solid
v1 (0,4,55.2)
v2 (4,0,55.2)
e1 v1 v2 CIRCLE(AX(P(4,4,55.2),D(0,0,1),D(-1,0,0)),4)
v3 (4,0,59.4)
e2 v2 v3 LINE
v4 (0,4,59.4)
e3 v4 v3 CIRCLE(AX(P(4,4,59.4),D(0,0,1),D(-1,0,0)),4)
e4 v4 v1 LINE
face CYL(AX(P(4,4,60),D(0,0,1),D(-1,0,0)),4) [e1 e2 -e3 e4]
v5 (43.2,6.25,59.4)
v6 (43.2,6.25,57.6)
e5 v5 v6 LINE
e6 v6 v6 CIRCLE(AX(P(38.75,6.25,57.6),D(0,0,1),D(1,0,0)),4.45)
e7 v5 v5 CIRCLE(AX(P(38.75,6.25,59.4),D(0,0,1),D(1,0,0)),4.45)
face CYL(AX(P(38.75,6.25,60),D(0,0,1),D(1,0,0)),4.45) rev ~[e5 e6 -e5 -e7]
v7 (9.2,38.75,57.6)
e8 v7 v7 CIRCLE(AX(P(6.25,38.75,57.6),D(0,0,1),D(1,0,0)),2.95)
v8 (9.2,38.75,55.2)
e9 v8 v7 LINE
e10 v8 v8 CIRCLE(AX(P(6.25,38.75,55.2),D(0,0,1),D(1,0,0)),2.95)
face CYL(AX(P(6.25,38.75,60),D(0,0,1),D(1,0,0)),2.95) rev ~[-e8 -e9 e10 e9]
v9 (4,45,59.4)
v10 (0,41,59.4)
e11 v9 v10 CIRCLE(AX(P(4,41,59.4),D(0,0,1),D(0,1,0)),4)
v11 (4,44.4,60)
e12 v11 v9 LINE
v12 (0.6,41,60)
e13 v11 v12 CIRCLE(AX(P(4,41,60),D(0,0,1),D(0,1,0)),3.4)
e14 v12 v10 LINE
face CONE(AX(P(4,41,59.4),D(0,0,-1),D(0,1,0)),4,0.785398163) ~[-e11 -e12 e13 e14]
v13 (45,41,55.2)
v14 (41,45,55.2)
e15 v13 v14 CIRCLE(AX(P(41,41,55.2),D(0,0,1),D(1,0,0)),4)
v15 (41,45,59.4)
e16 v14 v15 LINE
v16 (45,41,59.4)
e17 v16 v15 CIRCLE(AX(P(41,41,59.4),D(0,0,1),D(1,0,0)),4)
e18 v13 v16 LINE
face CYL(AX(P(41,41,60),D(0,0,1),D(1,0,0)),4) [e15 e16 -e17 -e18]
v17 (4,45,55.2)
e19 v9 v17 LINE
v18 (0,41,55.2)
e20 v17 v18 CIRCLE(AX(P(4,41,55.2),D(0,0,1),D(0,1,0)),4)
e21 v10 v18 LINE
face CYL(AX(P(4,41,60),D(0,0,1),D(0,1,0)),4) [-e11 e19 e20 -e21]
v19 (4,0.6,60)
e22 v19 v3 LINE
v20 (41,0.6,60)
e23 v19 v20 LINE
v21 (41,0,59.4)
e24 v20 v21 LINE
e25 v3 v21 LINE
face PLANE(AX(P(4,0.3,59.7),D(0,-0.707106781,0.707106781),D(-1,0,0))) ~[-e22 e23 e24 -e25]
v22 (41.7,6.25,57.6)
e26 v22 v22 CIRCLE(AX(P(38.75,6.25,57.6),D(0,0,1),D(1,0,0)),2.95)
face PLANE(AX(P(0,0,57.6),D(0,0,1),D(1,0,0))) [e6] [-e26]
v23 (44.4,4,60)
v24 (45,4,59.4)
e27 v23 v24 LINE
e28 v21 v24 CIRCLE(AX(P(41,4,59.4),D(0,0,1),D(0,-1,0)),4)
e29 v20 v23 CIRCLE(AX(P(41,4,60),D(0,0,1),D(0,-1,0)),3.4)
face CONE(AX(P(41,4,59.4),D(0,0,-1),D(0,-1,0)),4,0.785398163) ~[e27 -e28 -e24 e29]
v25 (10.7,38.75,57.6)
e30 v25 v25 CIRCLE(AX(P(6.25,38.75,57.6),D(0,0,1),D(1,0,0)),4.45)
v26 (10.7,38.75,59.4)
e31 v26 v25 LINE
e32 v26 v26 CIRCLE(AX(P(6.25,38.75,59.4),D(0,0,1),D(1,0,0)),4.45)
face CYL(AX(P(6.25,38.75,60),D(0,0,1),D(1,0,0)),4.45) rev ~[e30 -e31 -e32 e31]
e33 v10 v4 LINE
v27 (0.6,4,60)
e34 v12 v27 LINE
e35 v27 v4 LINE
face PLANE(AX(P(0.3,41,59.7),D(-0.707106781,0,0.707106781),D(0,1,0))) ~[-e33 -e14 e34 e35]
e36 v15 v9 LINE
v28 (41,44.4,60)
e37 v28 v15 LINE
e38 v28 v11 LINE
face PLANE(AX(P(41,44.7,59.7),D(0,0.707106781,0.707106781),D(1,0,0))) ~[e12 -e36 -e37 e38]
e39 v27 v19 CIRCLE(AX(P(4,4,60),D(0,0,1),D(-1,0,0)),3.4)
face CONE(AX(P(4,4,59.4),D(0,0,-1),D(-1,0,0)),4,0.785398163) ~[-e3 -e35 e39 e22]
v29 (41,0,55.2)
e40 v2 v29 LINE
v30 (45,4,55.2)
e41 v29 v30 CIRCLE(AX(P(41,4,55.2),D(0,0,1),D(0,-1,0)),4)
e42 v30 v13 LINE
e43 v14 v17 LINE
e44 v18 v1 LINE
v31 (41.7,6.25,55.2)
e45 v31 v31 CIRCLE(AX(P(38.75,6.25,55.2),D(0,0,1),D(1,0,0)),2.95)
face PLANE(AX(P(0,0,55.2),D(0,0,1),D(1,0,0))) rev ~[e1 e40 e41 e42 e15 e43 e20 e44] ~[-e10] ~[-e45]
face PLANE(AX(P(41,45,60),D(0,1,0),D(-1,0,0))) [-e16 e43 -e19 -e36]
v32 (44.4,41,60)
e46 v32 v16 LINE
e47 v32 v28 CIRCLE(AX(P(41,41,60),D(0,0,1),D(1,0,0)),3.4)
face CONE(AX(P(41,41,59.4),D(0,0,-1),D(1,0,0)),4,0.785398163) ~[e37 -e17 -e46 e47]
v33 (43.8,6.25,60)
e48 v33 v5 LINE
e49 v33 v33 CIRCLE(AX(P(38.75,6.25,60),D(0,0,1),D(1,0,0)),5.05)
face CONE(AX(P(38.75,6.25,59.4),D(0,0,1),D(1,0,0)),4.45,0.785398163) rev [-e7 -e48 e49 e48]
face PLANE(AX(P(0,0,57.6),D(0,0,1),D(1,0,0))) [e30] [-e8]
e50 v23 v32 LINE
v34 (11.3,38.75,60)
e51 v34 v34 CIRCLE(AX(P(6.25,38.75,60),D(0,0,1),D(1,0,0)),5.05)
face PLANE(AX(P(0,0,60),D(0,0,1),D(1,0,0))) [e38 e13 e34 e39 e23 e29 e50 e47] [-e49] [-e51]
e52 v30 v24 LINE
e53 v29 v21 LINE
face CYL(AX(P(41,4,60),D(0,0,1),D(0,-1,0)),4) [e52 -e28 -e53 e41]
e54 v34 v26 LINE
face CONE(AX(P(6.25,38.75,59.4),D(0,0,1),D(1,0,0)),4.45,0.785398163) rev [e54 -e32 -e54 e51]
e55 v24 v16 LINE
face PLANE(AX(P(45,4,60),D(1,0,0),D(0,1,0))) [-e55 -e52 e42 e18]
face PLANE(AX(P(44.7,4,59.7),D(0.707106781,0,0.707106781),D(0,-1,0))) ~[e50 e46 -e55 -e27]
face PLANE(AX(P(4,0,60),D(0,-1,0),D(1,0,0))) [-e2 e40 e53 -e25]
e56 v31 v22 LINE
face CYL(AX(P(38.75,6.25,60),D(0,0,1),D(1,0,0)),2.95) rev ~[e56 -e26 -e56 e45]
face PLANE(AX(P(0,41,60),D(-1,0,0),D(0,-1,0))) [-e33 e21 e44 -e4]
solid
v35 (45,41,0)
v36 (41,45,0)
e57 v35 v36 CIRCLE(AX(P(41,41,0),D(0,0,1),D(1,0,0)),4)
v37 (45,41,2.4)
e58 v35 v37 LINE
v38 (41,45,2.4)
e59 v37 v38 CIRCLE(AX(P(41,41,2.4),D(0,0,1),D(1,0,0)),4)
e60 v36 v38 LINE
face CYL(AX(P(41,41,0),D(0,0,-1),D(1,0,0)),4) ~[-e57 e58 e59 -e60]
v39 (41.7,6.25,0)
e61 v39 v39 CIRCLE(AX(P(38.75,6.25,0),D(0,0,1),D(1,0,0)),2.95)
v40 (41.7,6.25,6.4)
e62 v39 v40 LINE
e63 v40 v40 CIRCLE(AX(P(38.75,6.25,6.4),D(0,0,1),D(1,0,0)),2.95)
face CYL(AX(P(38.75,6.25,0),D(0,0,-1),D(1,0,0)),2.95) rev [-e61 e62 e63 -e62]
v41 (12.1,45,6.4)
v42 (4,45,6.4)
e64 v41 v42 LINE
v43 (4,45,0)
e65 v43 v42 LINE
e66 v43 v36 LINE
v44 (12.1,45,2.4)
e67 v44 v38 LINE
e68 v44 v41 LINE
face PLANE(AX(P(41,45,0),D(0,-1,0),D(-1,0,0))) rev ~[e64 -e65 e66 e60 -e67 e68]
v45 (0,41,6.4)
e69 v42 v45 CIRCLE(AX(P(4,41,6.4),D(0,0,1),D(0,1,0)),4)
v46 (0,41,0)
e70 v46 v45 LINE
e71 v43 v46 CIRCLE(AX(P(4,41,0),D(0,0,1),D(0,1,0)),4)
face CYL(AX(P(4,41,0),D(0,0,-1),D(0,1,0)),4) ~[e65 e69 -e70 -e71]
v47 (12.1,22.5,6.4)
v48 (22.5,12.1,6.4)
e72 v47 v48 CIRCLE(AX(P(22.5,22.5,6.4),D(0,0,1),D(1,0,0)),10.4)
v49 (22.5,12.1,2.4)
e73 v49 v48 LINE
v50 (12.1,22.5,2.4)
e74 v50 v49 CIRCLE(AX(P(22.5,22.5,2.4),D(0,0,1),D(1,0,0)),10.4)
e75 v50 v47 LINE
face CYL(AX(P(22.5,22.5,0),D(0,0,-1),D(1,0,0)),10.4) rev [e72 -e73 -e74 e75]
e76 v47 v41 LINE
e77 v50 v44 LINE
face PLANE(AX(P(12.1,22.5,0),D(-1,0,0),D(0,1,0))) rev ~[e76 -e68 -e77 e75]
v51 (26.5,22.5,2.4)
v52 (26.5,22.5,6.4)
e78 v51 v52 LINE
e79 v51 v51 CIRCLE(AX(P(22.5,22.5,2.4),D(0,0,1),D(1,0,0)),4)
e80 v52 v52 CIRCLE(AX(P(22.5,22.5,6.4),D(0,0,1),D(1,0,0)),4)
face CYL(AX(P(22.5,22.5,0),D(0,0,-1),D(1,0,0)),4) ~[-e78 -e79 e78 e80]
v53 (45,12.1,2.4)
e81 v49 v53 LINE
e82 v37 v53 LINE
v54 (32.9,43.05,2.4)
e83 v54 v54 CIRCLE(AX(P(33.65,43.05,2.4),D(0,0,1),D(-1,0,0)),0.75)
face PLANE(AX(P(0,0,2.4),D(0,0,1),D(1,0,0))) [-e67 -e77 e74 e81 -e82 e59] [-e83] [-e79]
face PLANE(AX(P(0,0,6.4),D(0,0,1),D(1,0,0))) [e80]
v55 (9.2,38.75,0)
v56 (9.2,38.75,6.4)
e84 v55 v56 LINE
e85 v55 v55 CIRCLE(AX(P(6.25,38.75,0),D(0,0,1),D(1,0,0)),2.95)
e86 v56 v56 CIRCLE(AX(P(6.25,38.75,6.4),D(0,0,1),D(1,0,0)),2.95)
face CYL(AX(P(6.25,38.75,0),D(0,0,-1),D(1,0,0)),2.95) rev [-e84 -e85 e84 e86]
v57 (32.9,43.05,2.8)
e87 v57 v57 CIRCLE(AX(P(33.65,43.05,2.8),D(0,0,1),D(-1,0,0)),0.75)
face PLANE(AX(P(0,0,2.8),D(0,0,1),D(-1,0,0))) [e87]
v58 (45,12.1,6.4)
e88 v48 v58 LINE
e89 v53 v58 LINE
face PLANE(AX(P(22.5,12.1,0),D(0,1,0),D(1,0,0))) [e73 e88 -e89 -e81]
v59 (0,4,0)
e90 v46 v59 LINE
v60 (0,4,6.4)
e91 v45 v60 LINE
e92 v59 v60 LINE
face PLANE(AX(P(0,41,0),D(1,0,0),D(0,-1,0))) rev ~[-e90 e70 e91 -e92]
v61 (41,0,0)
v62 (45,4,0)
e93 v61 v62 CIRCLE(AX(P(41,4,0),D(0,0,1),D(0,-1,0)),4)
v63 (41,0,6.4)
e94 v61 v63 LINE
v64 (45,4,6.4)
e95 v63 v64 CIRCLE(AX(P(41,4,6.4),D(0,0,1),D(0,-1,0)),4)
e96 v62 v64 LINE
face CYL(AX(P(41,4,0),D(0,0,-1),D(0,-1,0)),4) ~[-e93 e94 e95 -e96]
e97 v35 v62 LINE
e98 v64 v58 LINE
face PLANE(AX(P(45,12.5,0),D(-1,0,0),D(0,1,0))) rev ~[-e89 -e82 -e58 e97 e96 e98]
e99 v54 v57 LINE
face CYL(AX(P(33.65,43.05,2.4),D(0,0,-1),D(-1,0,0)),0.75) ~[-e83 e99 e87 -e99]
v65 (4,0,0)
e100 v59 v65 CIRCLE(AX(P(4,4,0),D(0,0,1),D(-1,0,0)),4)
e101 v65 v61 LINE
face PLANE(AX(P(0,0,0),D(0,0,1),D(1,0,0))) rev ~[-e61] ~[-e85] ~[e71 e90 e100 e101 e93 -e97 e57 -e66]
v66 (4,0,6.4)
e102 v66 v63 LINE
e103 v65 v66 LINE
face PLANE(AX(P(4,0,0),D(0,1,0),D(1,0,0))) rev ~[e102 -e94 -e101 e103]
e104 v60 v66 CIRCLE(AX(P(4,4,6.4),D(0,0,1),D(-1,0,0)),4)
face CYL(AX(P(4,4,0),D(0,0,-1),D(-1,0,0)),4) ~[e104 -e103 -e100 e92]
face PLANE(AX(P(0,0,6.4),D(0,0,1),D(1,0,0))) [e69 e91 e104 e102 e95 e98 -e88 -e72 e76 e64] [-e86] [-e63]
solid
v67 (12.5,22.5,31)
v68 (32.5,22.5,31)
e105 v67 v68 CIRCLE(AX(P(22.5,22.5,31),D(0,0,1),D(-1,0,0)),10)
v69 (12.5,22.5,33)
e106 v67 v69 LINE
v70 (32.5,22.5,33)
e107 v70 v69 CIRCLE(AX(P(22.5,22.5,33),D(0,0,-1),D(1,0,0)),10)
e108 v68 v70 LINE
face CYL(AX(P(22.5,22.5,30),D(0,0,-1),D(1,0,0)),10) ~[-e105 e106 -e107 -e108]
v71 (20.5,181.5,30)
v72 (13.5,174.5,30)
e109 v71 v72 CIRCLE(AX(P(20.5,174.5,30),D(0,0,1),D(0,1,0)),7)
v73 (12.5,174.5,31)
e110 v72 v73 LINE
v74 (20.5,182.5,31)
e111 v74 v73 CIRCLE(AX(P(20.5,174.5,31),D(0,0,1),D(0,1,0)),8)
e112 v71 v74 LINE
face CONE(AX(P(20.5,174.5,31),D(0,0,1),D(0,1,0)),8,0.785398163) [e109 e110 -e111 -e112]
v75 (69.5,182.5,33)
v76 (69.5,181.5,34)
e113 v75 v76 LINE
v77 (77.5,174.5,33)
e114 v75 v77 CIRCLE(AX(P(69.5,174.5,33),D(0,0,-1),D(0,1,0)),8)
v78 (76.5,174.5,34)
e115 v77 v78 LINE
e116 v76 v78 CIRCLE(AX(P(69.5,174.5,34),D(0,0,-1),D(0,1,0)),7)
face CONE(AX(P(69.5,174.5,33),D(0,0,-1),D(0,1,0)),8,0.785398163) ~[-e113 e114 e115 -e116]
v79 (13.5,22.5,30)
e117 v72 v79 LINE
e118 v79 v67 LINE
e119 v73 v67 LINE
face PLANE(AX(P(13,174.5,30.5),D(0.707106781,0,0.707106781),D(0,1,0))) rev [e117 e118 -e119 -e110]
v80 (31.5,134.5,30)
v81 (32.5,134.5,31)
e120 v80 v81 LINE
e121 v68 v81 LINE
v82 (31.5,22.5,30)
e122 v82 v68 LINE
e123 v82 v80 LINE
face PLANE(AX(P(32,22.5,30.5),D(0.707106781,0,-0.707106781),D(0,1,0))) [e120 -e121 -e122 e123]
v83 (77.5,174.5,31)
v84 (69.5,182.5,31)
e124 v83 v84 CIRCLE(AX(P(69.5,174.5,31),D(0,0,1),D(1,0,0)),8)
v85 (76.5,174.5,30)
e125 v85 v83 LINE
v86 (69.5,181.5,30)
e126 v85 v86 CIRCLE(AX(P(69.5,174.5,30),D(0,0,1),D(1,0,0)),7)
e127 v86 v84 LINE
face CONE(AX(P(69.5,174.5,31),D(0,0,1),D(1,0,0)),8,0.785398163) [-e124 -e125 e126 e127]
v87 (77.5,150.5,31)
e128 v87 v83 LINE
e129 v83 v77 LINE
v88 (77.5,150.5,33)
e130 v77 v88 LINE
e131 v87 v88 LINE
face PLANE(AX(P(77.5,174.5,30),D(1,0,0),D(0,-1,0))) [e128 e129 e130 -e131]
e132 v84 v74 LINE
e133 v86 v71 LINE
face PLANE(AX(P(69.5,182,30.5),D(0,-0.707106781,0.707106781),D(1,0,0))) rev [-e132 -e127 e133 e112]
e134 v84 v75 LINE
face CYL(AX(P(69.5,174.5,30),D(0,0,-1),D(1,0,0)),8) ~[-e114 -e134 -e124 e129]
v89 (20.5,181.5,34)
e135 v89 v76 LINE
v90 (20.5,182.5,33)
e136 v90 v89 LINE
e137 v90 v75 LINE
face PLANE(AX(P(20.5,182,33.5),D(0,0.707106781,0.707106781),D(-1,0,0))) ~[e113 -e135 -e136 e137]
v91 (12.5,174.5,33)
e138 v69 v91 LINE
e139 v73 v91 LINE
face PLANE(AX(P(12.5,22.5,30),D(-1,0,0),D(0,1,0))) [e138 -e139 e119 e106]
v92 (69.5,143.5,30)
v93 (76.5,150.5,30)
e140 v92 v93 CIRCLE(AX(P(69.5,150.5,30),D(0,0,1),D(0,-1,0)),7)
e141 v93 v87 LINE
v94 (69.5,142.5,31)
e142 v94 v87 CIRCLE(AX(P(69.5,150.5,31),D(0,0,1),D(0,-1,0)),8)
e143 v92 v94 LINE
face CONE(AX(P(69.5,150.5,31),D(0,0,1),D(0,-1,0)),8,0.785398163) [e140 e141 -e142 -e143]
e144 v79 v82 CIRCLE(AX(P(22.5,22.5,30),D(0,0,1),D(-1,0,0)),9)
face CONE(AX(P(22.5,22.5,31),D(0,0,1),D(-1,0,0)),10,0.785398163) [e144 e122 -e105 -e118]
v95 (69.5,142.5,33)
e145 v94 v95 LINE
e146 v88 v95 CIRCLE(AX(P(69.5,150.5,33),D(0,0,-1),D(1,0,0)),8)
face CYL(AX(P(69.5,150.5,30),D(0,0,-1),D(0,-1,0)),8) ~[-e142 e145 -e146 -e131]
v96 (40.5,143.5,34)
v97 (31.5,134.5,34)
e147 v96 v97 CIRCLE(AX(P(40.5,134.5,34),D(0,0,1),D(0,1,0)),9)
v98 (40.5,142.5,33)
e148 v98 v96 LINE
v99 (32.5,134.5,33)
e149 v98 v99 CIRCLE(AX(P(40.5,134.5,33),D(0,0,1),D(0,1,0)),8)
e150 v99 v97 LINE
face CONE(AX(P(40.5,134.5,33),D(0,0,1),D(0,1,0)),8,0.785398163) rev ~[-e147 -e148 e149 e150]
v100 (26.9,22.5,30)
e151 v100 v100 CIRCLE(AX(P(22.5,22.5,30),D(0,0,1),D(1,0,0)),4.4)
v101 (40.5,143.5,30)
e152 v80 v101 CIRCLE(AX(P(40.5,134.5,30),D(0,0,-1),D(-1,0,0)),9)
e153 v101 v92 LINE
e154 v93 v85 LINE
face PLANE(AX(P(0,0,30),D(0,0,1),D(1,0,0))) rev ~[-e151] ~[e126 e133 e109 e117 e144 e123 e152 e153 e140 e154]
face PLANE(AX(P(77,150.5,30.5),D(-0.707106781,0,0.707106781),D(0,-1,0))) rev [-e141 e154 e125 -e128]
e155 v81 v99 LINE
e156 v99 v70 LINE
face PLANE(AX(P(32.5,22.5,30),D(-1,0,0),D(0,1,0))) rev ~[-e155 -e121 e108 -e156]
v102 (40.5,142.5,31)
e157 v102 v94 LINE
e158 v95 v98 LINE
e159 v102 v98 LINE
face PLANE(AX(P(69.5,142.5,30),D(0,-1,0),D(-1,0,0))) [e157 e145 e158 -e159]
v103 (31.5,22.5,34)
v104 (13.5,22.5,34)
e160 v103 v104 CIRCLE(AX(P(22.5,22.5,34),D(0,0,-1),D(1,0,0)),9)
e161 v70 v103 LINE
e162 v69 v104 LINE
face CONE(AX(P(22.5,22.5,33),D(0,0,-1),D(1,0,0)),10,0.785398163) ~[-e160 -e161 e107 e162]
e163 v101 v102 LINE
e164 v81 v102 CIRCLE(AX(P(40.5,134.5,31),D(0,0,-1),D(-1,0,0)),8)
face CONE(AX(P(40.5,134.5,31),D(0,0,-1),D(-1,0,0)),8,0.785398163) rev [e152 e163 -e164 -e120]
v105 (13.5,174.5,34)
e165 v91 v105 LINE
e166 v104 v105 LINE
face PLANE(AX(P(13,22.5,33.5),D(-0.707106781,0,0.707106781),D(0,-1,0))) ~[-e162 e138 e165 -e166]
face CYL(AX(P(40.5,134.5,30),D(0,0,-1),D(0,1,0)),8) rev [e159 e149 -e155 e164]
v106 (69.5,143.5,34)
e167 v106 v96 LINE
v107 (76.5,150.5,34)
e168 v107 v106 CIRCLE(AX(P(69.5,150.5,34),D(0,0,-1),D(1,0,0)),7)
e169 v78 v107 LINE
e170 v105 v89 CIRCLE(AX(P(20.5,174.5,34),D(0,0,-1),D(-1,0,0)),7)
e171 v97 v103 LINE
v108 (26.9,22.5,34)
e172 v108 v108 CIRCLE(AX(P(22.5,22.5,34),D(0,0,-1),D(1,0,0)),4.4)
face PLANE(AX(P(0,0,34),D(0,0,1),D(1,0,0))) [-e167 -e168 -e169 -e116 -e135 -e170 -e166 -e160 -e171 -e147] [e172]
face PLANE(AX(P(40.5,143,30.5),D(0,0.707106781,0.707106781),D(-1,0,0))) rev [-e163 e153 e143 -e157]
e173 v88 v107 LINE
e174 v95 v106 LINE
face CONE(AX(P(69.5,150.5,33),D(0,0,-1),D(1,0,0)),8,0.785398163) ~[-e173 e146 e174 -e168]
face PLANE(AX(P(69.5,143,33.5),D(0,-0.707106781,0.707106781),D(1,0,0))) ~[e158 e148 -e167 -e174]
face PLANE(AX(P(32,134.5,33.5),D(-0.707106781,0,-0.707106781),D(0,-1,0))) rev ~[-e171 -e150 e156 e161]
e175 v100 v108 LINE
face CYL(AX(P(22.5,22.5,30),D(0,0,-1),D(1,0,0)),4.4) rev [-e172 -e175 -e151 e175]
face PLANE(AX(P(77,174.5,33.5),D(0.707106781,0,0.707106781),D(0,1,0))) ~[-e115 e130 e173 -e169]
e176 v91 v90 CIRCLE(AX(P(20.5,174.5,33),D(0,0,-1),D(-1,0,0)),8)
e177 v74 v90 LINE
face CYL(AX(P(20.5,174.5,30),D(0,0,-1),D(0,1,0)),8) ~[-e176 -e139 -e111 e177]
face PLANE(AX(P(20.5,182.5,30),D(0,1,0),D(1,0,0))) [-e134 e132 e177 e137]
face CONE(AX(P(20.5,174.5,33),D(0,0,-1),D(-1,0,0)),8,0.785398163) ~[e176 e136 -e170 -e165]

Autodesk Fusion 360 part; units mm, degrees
sketch "Sketch1" plane through (0, 0, 0) normal (0, 0, 1) x (1, 0, 0) in component "Component"
  line L0 (0, 0) -> (45, 0) construction
  line L1 (45, 0) -> (45, 45) construction
  line L2 (45, 45) -> (0, 45) construction
  line L3 (0, 45) -> (0, 0) construction
  line L4 (0, 45) -> (45, 0) construction
  line L5 (0, 0) -> (45, 45) construction
  circle A0 centre (22.5, 22.5) radius 10
  line L6 (12.5, 22.5) -> (12.5, 45)
  line L7 (22.5, 12.5) -> (45, 12.5)
  circle A1 centre (22.5, 22.5) radius 4
  line L8 (32.5, 22.5) -> (32.5, 45) construction
  line L9 (12.5, 45) -> (0, 32.5) construction
  line L10 (45, 12.5) -> (32.5, 0) construction
  circle A2 centre (6.25, 38.75) radius 2.95
  circle A3 centre (6.25, 38.75) radius 4.45
  circle A4 centre (38.75, 6.25) radius 2.95
  circle A5 centre (38.75, 6.25) radius 4.45
  line L11 (0, 41) -> (0, 4)
  line L12 (4, 0) -> (41, 0)
  line L13 (45, 4) -> (45, 41)
  line L14 (41, 45) -> (4, 45)
  arc A6 (4, 45) -> (0, 41) centre (4, 41) ccw
  arc A7 (45, 41) -> (41, 45) centre (41, 41) ccw
  arc A8 (41, 0) -> (45, 4) centre (41, 4) ccw
  arc A9 (0, 4) -> (4, 0) centre (4, 4) ccw
  circle A10 centre (22.5, 22.5) radius 4.4
  line L15 (12.1, 22.5) -> (12.1, 45)
  circle A11 centre (22.5, 22.5) radius 10.4
  line L16 (22.5, 12.1) -> (45, 12.1)
  dimension "d1" = 45
  dimension "d2" = 45
  dimension "d5" = 20
  dimension "d6" = 8
  dimension "d24" = 5.9
  dimension "d25" = 8.9
  dimension "d26" = 5.9
  dimension "d27" = 8.9
  dimension "d30" = 4
  dimension "d31" = 4
  dimension "d32" = 4
  dimension "d33" = 4
  dimension "d69" = 0.4
  dimension "d70" = 0.4
  dimension "d71" = 0.4
  dimension "d72" = 0.4
extrude "Extrude5" add sketch "Sketch1" along normal blind 2.4 contours A0 | A0 L6 L7 A11 | A0 L6 L7 A11 | L6 L14 L15 A11 | L6 L7 L13 L14 A7 A11 | L7 L13 A11 L16 | A10 makes body 1 in component "Component"
extrude "Extrude7" add sketch "Sketch1" along normal blind 6.4 contours L11 L12 L13 L14 A6 A8 A9 L15 A11 L16 | A1 | A3 | A5 bodies 1 in component "Component"
ref_plane "WorkPlane2" through (0, 0, 60) normal (0, 0, 1) x (1, 0, 0) in component "Component"
sketch "Sketch3" plane through (0, 0, 60) normal (0, 0, 1) x (1, 0, 0) in component "Component"
  line L0 (4, 0) -> (41, 0)
  arc A0 (41, 0) -> (45, 4) centre (41, 4) ccw
  line L1 (45, 4) -> (45, 41)
  arc A1 (45, 41) -> (41, 45) centre (41, 41) ccw
  line L2 (41, 45) -> (4, 45)
  arc A2 (4, 45) -> (0, 41) centre (4, 41) ccw
  line L3 (0, 41) -> (0, 4)
  arc A3 (0, 4) -> (4, 0) centre (4, 4) ccw
  circle A4 centre (6.25, 38.75) radius 4.45
  circle A5 centre (6.25, 38.75) radius 2.95
  circle A6 centre (22.5, 22.5) radius 4
  circle A7 centre (38.75, 6.25) radius 4.45
  circle A8 centre (38.75, 6.25) radius 2.95
  circle A9 centre (22.5, 22.5) radius 4.4
extrude "Extrude8" add sketch "Sketch3" against normal blind 2.4 separate body contours L0 A0 L1 A1 L2 A2 L3 A3 | A4 | A6 | A7 | A9 makes body 2 in component "Component"
extrude "Extrude9" add sketch "Sketch3" against normal blind 4.8 contours L0 A0 L1 A1 L2 A2 L3 A3 | A4 | A6 | A7 | A9 bodies 2 in component "Component"
extrude "Extrude10" cut sketch "Sketch3" against normal blind 2.4 contours A4 | A7 bodies 2 in component "Component"
ref_plane "WorkPlane3" through (0, 0, 30) normal (0, 0, 1) x (1, 0, 0) in component "Component"
sketch "Sketch4" plane through (0, 0, 30) normal (0, 0, 1) x (1, 0, 0) in component "Component"
  circle A0 centre (22.5, 22.5) radius 10
  circle A1 centre (22.5, 22.5) radius 4
  line L0 (0, 0) -> (45, 45)
  line L1 (45, 45) -> (0, 45)
  line L2 (12.5, 12.5) -> (12.5, 182.5) construction
  line L3 (0, 45) -> (45, 0)
  line L4 (22.5, 12.5) -> (45, 12.5)
  line L5 (32.5, 22.5) -> (32.5, 45)
  line L6 (32.5, 12.5) -> (32.5, 142.5) construction
  line L7 (12.5, 182.5) -> (77.5, 182.5) construction
  line L8 (12.5, 22.5) -> (12.5, 45)
  line L9 (77.5, 182.5) -> (77.5, 142.5) construction
  line L10 (77.5, 142.5) -> (32.5, 142.5) construction
  line L11 (12.5, 12.5) -> (12.5, 174.5)
  line L12 (20.5, 182.5) -> (69.5, 182.5)
  line L13 (77.5, 174.5) -> (77.5, 150.5)
  line L14 (69.5, 142.5) -> (40.5, 142.5)
  line L15 (32.5, 134.5) -> (32.5, 12.5)
  arc A2 (20.5, 182.5) -> (12.5, 174.5) centre (20.5, 174.5) ccw
  arc A3 (77.5, 174.5) -> (69.5, 182.5) centre (69.5, 174.5) ccw
  arc A4 (69.5, 142.5) -> (77.5, 150.5) centre (69.5, 150.5) ccw
  arc A5 (40.5, 142.5) -> (32.5, 134.5) centre (40.5, 134.5) ccw
  circle A6 centre (22.5, 22.5) radius 4.4
  dimension "d48" = 170
  dimension "d49" = 130
  dimension "d50" = 65
  dimension "d51" = 40
  dimension "d52" = 8
  dimension "d53" = 8
  dimension "d54" = 8
  dimension "d55" = 8
extrude "Extrude11" add sketch "Sketch4" along normal blind 4 separate body contours A0 L0 L3 A6 | A0 L0 L5 L15 | A0 L0 L3 A6 | A0 L0 L1 L3 L5 L8 L11 L15 | A0 L0 L3 A6 | A0 L0 L3 A6 | A0 L3 L8 L11 | L1 L11 L12 L13 L14 L15 A2 A3 A4 A5 makes body 3 in component "Component"
sketch "Sketch5" plane through (0, 0, 2.4) normal (0, 0, 1) x (-1, 0, 0) in component "Component"
  line L0 (-45, -12.1) -> (-45, -41)
  arc A0 (-45, -41) -> (-41, -45) centre (-41, -41) ccw
  line L1 (-41, -45) -> (-12.1, -45)
  line L2 (-32.5, -22.5) -> (-32.5, -45)
  line L3 (-45, -45) -> (0, -45)
  line L4 (-32.5, -22.5) -> (-32.5, -134.5)
  line L5 (-41, -45) -> (-4, -45)
  arc A1 (-12.1, -22.5) -> (-22.5, -12.1) centre (-22.5, -22.5) ccw
  line L6 (-22.5, -12.1) -> (-45, -12.1)
  line L7 (-12.1, -45) -> (-12.1, -22.5)
  circle A2 centre (-22.5, -22.5) radius 4
  line L8 (-32.5, -45) -> (-32.9, -45) construction
  line L9 (-32.9, -45) -> (-32.9, -43.8) construction
  line L10 (-32.9, -43.8) -> (-32.5, -43.8) construction
  line L11 (-32.5, -43.8) -> (-32.5, -45) construction
  line L12 (-32.9, -43.8) -> (-34.4, -43.8) construction
  line L13 (-34.4, -43.8) -> (-34.4, -42.6) construction
  line L14 (-34.4, -42.6) -> (-32.9, -42.6) construction
  line L15 (-32.9, -42.6) -> (-32.9, -43.8) construction
  circle A3 centre (-33.65, -43.05) radius 0.75
  dimension "d75" = 0.4
  dimension "d76" = 1.2
  dimension "d77" = 1.5
  dimension "d78" = 1.2
  dimension "d79" = 0.75
chamfer "Chamfer1" distance 0.6 angle 45 2 edges at (2.1011, 40.3592, 60) (34.6011, 7.8592, 60) on bodies 2 in component "Component"
chamfer "Chamfer2" distance 0.6 angle 45 8 edges at (1.1716, 1.1716, 60) (22.5, 0, 60) (43.8284, 1.1716, 60) (45, 22.5, 60) (43.8284, 43.8284, 60) (22.5, 45, 60) (1.1716, 43.8284, 60) (0, 22.5, 60) on bodies 2 in component "Component"
chamfer "Chamfer3" distance 1 angle 45 20 edges at (32.5, 78.5, 34) (34.8431, 140.1569, 34) (55, 142.5, 34) (75.1569, 144.8431, 34) (77.5, 162.5, 34) (75.1569, 180.1569, 34) (45, 182.5, 34) (14.8431, 180.1569, 34) (12.5, 98.5, 34) (22.5, 12.5, 34) (14.8431, 180.1569, 30) (45, 182.5, 30) (75.1569, 180.1569, 30) (77.5, 162.5, 30) (75.1569, 144.8431, 30) (55, 142.5, 30) (34.8431, 140.1569, 30) (32.5, 78.5, 30) (22.5, 12.5, 30) (12.5, 98.5, 30) on bodies 3 in component "Component"
extrude "Extrude13" add sketch "Sketch5" along normal blind 0.4 contours A3 bodies 1 in component "Component"
component "Component" placed x (1, 0, 0) y (0, 1, 0) z (0, 0, 1) at (0, 0, 0)
equation "d1 = BaseSize"
equation "d2 = BaseSize"
equation "HoleDiameter = 8 mm"
equation "ArmWidth = 20 mm"
equation "d5 = ArmWidth"
equation "d6 = HoleDiameter"
equation "PlateThickness = 2.4 mm"
equation "ArmThickness = 4 mm"
equation "PrintingTolerance = 0.2 mm"
equation "ArmLength = 170 mm"
equation "FlagHeight = 40 mm"
equation "FlagWidth = 65 mm"
equation "ScrewDiameter = 5.5 mm"
equation "ScrewHeadDiameter = 8.5 mm"
equation "BaseSize = 45 mm"
equation "d24 = ScrewDiameter + PrintingTolerance * 2"
equation "d25 = ScrewHeadDiameter + PrintingTolerance * 2"
equation "d26 = ScrewDiameter + PrintingTolerance * 2"
equation "d27 = ScrewHeadDiameter + PrintingTolerance * 2"
equation "d30 = MountFilletRadius"
equation "d31 = MountFilletRadius"
equation "d32 = MountFilletRadius"
equation "d33 = MountFilletRadius"
equation "d34 = PlateThickness"
equation "d38 = PlateThickness + ArmThickness"
equation "d41 = -PlateThickness"
equation "d43 = -( PlateThickness * 2 )"
equation "d45 = -PlateThickness"
equation "d48 = ArmLength"
equation "d49 = ArmLength - FlagHeight"
equation "d50 = FlagWidth"
equation "d51 = FlagHeight"
equation "d56 = ArmThickness"
equation "NubThickness = 0.4 mm"
equation "d69 = PrintingTolerance * 2"
equation "d70 = PrintingTolerance * 2"
equation "d71 = PrintingTolerance * 2"
equation "d72 = PrintingTolerance * 2"
equation "d75 = PrintingTolerance * 2"
equation "d79 = d77 / 2"
equation "MountFilletRadius = 4 mm"
